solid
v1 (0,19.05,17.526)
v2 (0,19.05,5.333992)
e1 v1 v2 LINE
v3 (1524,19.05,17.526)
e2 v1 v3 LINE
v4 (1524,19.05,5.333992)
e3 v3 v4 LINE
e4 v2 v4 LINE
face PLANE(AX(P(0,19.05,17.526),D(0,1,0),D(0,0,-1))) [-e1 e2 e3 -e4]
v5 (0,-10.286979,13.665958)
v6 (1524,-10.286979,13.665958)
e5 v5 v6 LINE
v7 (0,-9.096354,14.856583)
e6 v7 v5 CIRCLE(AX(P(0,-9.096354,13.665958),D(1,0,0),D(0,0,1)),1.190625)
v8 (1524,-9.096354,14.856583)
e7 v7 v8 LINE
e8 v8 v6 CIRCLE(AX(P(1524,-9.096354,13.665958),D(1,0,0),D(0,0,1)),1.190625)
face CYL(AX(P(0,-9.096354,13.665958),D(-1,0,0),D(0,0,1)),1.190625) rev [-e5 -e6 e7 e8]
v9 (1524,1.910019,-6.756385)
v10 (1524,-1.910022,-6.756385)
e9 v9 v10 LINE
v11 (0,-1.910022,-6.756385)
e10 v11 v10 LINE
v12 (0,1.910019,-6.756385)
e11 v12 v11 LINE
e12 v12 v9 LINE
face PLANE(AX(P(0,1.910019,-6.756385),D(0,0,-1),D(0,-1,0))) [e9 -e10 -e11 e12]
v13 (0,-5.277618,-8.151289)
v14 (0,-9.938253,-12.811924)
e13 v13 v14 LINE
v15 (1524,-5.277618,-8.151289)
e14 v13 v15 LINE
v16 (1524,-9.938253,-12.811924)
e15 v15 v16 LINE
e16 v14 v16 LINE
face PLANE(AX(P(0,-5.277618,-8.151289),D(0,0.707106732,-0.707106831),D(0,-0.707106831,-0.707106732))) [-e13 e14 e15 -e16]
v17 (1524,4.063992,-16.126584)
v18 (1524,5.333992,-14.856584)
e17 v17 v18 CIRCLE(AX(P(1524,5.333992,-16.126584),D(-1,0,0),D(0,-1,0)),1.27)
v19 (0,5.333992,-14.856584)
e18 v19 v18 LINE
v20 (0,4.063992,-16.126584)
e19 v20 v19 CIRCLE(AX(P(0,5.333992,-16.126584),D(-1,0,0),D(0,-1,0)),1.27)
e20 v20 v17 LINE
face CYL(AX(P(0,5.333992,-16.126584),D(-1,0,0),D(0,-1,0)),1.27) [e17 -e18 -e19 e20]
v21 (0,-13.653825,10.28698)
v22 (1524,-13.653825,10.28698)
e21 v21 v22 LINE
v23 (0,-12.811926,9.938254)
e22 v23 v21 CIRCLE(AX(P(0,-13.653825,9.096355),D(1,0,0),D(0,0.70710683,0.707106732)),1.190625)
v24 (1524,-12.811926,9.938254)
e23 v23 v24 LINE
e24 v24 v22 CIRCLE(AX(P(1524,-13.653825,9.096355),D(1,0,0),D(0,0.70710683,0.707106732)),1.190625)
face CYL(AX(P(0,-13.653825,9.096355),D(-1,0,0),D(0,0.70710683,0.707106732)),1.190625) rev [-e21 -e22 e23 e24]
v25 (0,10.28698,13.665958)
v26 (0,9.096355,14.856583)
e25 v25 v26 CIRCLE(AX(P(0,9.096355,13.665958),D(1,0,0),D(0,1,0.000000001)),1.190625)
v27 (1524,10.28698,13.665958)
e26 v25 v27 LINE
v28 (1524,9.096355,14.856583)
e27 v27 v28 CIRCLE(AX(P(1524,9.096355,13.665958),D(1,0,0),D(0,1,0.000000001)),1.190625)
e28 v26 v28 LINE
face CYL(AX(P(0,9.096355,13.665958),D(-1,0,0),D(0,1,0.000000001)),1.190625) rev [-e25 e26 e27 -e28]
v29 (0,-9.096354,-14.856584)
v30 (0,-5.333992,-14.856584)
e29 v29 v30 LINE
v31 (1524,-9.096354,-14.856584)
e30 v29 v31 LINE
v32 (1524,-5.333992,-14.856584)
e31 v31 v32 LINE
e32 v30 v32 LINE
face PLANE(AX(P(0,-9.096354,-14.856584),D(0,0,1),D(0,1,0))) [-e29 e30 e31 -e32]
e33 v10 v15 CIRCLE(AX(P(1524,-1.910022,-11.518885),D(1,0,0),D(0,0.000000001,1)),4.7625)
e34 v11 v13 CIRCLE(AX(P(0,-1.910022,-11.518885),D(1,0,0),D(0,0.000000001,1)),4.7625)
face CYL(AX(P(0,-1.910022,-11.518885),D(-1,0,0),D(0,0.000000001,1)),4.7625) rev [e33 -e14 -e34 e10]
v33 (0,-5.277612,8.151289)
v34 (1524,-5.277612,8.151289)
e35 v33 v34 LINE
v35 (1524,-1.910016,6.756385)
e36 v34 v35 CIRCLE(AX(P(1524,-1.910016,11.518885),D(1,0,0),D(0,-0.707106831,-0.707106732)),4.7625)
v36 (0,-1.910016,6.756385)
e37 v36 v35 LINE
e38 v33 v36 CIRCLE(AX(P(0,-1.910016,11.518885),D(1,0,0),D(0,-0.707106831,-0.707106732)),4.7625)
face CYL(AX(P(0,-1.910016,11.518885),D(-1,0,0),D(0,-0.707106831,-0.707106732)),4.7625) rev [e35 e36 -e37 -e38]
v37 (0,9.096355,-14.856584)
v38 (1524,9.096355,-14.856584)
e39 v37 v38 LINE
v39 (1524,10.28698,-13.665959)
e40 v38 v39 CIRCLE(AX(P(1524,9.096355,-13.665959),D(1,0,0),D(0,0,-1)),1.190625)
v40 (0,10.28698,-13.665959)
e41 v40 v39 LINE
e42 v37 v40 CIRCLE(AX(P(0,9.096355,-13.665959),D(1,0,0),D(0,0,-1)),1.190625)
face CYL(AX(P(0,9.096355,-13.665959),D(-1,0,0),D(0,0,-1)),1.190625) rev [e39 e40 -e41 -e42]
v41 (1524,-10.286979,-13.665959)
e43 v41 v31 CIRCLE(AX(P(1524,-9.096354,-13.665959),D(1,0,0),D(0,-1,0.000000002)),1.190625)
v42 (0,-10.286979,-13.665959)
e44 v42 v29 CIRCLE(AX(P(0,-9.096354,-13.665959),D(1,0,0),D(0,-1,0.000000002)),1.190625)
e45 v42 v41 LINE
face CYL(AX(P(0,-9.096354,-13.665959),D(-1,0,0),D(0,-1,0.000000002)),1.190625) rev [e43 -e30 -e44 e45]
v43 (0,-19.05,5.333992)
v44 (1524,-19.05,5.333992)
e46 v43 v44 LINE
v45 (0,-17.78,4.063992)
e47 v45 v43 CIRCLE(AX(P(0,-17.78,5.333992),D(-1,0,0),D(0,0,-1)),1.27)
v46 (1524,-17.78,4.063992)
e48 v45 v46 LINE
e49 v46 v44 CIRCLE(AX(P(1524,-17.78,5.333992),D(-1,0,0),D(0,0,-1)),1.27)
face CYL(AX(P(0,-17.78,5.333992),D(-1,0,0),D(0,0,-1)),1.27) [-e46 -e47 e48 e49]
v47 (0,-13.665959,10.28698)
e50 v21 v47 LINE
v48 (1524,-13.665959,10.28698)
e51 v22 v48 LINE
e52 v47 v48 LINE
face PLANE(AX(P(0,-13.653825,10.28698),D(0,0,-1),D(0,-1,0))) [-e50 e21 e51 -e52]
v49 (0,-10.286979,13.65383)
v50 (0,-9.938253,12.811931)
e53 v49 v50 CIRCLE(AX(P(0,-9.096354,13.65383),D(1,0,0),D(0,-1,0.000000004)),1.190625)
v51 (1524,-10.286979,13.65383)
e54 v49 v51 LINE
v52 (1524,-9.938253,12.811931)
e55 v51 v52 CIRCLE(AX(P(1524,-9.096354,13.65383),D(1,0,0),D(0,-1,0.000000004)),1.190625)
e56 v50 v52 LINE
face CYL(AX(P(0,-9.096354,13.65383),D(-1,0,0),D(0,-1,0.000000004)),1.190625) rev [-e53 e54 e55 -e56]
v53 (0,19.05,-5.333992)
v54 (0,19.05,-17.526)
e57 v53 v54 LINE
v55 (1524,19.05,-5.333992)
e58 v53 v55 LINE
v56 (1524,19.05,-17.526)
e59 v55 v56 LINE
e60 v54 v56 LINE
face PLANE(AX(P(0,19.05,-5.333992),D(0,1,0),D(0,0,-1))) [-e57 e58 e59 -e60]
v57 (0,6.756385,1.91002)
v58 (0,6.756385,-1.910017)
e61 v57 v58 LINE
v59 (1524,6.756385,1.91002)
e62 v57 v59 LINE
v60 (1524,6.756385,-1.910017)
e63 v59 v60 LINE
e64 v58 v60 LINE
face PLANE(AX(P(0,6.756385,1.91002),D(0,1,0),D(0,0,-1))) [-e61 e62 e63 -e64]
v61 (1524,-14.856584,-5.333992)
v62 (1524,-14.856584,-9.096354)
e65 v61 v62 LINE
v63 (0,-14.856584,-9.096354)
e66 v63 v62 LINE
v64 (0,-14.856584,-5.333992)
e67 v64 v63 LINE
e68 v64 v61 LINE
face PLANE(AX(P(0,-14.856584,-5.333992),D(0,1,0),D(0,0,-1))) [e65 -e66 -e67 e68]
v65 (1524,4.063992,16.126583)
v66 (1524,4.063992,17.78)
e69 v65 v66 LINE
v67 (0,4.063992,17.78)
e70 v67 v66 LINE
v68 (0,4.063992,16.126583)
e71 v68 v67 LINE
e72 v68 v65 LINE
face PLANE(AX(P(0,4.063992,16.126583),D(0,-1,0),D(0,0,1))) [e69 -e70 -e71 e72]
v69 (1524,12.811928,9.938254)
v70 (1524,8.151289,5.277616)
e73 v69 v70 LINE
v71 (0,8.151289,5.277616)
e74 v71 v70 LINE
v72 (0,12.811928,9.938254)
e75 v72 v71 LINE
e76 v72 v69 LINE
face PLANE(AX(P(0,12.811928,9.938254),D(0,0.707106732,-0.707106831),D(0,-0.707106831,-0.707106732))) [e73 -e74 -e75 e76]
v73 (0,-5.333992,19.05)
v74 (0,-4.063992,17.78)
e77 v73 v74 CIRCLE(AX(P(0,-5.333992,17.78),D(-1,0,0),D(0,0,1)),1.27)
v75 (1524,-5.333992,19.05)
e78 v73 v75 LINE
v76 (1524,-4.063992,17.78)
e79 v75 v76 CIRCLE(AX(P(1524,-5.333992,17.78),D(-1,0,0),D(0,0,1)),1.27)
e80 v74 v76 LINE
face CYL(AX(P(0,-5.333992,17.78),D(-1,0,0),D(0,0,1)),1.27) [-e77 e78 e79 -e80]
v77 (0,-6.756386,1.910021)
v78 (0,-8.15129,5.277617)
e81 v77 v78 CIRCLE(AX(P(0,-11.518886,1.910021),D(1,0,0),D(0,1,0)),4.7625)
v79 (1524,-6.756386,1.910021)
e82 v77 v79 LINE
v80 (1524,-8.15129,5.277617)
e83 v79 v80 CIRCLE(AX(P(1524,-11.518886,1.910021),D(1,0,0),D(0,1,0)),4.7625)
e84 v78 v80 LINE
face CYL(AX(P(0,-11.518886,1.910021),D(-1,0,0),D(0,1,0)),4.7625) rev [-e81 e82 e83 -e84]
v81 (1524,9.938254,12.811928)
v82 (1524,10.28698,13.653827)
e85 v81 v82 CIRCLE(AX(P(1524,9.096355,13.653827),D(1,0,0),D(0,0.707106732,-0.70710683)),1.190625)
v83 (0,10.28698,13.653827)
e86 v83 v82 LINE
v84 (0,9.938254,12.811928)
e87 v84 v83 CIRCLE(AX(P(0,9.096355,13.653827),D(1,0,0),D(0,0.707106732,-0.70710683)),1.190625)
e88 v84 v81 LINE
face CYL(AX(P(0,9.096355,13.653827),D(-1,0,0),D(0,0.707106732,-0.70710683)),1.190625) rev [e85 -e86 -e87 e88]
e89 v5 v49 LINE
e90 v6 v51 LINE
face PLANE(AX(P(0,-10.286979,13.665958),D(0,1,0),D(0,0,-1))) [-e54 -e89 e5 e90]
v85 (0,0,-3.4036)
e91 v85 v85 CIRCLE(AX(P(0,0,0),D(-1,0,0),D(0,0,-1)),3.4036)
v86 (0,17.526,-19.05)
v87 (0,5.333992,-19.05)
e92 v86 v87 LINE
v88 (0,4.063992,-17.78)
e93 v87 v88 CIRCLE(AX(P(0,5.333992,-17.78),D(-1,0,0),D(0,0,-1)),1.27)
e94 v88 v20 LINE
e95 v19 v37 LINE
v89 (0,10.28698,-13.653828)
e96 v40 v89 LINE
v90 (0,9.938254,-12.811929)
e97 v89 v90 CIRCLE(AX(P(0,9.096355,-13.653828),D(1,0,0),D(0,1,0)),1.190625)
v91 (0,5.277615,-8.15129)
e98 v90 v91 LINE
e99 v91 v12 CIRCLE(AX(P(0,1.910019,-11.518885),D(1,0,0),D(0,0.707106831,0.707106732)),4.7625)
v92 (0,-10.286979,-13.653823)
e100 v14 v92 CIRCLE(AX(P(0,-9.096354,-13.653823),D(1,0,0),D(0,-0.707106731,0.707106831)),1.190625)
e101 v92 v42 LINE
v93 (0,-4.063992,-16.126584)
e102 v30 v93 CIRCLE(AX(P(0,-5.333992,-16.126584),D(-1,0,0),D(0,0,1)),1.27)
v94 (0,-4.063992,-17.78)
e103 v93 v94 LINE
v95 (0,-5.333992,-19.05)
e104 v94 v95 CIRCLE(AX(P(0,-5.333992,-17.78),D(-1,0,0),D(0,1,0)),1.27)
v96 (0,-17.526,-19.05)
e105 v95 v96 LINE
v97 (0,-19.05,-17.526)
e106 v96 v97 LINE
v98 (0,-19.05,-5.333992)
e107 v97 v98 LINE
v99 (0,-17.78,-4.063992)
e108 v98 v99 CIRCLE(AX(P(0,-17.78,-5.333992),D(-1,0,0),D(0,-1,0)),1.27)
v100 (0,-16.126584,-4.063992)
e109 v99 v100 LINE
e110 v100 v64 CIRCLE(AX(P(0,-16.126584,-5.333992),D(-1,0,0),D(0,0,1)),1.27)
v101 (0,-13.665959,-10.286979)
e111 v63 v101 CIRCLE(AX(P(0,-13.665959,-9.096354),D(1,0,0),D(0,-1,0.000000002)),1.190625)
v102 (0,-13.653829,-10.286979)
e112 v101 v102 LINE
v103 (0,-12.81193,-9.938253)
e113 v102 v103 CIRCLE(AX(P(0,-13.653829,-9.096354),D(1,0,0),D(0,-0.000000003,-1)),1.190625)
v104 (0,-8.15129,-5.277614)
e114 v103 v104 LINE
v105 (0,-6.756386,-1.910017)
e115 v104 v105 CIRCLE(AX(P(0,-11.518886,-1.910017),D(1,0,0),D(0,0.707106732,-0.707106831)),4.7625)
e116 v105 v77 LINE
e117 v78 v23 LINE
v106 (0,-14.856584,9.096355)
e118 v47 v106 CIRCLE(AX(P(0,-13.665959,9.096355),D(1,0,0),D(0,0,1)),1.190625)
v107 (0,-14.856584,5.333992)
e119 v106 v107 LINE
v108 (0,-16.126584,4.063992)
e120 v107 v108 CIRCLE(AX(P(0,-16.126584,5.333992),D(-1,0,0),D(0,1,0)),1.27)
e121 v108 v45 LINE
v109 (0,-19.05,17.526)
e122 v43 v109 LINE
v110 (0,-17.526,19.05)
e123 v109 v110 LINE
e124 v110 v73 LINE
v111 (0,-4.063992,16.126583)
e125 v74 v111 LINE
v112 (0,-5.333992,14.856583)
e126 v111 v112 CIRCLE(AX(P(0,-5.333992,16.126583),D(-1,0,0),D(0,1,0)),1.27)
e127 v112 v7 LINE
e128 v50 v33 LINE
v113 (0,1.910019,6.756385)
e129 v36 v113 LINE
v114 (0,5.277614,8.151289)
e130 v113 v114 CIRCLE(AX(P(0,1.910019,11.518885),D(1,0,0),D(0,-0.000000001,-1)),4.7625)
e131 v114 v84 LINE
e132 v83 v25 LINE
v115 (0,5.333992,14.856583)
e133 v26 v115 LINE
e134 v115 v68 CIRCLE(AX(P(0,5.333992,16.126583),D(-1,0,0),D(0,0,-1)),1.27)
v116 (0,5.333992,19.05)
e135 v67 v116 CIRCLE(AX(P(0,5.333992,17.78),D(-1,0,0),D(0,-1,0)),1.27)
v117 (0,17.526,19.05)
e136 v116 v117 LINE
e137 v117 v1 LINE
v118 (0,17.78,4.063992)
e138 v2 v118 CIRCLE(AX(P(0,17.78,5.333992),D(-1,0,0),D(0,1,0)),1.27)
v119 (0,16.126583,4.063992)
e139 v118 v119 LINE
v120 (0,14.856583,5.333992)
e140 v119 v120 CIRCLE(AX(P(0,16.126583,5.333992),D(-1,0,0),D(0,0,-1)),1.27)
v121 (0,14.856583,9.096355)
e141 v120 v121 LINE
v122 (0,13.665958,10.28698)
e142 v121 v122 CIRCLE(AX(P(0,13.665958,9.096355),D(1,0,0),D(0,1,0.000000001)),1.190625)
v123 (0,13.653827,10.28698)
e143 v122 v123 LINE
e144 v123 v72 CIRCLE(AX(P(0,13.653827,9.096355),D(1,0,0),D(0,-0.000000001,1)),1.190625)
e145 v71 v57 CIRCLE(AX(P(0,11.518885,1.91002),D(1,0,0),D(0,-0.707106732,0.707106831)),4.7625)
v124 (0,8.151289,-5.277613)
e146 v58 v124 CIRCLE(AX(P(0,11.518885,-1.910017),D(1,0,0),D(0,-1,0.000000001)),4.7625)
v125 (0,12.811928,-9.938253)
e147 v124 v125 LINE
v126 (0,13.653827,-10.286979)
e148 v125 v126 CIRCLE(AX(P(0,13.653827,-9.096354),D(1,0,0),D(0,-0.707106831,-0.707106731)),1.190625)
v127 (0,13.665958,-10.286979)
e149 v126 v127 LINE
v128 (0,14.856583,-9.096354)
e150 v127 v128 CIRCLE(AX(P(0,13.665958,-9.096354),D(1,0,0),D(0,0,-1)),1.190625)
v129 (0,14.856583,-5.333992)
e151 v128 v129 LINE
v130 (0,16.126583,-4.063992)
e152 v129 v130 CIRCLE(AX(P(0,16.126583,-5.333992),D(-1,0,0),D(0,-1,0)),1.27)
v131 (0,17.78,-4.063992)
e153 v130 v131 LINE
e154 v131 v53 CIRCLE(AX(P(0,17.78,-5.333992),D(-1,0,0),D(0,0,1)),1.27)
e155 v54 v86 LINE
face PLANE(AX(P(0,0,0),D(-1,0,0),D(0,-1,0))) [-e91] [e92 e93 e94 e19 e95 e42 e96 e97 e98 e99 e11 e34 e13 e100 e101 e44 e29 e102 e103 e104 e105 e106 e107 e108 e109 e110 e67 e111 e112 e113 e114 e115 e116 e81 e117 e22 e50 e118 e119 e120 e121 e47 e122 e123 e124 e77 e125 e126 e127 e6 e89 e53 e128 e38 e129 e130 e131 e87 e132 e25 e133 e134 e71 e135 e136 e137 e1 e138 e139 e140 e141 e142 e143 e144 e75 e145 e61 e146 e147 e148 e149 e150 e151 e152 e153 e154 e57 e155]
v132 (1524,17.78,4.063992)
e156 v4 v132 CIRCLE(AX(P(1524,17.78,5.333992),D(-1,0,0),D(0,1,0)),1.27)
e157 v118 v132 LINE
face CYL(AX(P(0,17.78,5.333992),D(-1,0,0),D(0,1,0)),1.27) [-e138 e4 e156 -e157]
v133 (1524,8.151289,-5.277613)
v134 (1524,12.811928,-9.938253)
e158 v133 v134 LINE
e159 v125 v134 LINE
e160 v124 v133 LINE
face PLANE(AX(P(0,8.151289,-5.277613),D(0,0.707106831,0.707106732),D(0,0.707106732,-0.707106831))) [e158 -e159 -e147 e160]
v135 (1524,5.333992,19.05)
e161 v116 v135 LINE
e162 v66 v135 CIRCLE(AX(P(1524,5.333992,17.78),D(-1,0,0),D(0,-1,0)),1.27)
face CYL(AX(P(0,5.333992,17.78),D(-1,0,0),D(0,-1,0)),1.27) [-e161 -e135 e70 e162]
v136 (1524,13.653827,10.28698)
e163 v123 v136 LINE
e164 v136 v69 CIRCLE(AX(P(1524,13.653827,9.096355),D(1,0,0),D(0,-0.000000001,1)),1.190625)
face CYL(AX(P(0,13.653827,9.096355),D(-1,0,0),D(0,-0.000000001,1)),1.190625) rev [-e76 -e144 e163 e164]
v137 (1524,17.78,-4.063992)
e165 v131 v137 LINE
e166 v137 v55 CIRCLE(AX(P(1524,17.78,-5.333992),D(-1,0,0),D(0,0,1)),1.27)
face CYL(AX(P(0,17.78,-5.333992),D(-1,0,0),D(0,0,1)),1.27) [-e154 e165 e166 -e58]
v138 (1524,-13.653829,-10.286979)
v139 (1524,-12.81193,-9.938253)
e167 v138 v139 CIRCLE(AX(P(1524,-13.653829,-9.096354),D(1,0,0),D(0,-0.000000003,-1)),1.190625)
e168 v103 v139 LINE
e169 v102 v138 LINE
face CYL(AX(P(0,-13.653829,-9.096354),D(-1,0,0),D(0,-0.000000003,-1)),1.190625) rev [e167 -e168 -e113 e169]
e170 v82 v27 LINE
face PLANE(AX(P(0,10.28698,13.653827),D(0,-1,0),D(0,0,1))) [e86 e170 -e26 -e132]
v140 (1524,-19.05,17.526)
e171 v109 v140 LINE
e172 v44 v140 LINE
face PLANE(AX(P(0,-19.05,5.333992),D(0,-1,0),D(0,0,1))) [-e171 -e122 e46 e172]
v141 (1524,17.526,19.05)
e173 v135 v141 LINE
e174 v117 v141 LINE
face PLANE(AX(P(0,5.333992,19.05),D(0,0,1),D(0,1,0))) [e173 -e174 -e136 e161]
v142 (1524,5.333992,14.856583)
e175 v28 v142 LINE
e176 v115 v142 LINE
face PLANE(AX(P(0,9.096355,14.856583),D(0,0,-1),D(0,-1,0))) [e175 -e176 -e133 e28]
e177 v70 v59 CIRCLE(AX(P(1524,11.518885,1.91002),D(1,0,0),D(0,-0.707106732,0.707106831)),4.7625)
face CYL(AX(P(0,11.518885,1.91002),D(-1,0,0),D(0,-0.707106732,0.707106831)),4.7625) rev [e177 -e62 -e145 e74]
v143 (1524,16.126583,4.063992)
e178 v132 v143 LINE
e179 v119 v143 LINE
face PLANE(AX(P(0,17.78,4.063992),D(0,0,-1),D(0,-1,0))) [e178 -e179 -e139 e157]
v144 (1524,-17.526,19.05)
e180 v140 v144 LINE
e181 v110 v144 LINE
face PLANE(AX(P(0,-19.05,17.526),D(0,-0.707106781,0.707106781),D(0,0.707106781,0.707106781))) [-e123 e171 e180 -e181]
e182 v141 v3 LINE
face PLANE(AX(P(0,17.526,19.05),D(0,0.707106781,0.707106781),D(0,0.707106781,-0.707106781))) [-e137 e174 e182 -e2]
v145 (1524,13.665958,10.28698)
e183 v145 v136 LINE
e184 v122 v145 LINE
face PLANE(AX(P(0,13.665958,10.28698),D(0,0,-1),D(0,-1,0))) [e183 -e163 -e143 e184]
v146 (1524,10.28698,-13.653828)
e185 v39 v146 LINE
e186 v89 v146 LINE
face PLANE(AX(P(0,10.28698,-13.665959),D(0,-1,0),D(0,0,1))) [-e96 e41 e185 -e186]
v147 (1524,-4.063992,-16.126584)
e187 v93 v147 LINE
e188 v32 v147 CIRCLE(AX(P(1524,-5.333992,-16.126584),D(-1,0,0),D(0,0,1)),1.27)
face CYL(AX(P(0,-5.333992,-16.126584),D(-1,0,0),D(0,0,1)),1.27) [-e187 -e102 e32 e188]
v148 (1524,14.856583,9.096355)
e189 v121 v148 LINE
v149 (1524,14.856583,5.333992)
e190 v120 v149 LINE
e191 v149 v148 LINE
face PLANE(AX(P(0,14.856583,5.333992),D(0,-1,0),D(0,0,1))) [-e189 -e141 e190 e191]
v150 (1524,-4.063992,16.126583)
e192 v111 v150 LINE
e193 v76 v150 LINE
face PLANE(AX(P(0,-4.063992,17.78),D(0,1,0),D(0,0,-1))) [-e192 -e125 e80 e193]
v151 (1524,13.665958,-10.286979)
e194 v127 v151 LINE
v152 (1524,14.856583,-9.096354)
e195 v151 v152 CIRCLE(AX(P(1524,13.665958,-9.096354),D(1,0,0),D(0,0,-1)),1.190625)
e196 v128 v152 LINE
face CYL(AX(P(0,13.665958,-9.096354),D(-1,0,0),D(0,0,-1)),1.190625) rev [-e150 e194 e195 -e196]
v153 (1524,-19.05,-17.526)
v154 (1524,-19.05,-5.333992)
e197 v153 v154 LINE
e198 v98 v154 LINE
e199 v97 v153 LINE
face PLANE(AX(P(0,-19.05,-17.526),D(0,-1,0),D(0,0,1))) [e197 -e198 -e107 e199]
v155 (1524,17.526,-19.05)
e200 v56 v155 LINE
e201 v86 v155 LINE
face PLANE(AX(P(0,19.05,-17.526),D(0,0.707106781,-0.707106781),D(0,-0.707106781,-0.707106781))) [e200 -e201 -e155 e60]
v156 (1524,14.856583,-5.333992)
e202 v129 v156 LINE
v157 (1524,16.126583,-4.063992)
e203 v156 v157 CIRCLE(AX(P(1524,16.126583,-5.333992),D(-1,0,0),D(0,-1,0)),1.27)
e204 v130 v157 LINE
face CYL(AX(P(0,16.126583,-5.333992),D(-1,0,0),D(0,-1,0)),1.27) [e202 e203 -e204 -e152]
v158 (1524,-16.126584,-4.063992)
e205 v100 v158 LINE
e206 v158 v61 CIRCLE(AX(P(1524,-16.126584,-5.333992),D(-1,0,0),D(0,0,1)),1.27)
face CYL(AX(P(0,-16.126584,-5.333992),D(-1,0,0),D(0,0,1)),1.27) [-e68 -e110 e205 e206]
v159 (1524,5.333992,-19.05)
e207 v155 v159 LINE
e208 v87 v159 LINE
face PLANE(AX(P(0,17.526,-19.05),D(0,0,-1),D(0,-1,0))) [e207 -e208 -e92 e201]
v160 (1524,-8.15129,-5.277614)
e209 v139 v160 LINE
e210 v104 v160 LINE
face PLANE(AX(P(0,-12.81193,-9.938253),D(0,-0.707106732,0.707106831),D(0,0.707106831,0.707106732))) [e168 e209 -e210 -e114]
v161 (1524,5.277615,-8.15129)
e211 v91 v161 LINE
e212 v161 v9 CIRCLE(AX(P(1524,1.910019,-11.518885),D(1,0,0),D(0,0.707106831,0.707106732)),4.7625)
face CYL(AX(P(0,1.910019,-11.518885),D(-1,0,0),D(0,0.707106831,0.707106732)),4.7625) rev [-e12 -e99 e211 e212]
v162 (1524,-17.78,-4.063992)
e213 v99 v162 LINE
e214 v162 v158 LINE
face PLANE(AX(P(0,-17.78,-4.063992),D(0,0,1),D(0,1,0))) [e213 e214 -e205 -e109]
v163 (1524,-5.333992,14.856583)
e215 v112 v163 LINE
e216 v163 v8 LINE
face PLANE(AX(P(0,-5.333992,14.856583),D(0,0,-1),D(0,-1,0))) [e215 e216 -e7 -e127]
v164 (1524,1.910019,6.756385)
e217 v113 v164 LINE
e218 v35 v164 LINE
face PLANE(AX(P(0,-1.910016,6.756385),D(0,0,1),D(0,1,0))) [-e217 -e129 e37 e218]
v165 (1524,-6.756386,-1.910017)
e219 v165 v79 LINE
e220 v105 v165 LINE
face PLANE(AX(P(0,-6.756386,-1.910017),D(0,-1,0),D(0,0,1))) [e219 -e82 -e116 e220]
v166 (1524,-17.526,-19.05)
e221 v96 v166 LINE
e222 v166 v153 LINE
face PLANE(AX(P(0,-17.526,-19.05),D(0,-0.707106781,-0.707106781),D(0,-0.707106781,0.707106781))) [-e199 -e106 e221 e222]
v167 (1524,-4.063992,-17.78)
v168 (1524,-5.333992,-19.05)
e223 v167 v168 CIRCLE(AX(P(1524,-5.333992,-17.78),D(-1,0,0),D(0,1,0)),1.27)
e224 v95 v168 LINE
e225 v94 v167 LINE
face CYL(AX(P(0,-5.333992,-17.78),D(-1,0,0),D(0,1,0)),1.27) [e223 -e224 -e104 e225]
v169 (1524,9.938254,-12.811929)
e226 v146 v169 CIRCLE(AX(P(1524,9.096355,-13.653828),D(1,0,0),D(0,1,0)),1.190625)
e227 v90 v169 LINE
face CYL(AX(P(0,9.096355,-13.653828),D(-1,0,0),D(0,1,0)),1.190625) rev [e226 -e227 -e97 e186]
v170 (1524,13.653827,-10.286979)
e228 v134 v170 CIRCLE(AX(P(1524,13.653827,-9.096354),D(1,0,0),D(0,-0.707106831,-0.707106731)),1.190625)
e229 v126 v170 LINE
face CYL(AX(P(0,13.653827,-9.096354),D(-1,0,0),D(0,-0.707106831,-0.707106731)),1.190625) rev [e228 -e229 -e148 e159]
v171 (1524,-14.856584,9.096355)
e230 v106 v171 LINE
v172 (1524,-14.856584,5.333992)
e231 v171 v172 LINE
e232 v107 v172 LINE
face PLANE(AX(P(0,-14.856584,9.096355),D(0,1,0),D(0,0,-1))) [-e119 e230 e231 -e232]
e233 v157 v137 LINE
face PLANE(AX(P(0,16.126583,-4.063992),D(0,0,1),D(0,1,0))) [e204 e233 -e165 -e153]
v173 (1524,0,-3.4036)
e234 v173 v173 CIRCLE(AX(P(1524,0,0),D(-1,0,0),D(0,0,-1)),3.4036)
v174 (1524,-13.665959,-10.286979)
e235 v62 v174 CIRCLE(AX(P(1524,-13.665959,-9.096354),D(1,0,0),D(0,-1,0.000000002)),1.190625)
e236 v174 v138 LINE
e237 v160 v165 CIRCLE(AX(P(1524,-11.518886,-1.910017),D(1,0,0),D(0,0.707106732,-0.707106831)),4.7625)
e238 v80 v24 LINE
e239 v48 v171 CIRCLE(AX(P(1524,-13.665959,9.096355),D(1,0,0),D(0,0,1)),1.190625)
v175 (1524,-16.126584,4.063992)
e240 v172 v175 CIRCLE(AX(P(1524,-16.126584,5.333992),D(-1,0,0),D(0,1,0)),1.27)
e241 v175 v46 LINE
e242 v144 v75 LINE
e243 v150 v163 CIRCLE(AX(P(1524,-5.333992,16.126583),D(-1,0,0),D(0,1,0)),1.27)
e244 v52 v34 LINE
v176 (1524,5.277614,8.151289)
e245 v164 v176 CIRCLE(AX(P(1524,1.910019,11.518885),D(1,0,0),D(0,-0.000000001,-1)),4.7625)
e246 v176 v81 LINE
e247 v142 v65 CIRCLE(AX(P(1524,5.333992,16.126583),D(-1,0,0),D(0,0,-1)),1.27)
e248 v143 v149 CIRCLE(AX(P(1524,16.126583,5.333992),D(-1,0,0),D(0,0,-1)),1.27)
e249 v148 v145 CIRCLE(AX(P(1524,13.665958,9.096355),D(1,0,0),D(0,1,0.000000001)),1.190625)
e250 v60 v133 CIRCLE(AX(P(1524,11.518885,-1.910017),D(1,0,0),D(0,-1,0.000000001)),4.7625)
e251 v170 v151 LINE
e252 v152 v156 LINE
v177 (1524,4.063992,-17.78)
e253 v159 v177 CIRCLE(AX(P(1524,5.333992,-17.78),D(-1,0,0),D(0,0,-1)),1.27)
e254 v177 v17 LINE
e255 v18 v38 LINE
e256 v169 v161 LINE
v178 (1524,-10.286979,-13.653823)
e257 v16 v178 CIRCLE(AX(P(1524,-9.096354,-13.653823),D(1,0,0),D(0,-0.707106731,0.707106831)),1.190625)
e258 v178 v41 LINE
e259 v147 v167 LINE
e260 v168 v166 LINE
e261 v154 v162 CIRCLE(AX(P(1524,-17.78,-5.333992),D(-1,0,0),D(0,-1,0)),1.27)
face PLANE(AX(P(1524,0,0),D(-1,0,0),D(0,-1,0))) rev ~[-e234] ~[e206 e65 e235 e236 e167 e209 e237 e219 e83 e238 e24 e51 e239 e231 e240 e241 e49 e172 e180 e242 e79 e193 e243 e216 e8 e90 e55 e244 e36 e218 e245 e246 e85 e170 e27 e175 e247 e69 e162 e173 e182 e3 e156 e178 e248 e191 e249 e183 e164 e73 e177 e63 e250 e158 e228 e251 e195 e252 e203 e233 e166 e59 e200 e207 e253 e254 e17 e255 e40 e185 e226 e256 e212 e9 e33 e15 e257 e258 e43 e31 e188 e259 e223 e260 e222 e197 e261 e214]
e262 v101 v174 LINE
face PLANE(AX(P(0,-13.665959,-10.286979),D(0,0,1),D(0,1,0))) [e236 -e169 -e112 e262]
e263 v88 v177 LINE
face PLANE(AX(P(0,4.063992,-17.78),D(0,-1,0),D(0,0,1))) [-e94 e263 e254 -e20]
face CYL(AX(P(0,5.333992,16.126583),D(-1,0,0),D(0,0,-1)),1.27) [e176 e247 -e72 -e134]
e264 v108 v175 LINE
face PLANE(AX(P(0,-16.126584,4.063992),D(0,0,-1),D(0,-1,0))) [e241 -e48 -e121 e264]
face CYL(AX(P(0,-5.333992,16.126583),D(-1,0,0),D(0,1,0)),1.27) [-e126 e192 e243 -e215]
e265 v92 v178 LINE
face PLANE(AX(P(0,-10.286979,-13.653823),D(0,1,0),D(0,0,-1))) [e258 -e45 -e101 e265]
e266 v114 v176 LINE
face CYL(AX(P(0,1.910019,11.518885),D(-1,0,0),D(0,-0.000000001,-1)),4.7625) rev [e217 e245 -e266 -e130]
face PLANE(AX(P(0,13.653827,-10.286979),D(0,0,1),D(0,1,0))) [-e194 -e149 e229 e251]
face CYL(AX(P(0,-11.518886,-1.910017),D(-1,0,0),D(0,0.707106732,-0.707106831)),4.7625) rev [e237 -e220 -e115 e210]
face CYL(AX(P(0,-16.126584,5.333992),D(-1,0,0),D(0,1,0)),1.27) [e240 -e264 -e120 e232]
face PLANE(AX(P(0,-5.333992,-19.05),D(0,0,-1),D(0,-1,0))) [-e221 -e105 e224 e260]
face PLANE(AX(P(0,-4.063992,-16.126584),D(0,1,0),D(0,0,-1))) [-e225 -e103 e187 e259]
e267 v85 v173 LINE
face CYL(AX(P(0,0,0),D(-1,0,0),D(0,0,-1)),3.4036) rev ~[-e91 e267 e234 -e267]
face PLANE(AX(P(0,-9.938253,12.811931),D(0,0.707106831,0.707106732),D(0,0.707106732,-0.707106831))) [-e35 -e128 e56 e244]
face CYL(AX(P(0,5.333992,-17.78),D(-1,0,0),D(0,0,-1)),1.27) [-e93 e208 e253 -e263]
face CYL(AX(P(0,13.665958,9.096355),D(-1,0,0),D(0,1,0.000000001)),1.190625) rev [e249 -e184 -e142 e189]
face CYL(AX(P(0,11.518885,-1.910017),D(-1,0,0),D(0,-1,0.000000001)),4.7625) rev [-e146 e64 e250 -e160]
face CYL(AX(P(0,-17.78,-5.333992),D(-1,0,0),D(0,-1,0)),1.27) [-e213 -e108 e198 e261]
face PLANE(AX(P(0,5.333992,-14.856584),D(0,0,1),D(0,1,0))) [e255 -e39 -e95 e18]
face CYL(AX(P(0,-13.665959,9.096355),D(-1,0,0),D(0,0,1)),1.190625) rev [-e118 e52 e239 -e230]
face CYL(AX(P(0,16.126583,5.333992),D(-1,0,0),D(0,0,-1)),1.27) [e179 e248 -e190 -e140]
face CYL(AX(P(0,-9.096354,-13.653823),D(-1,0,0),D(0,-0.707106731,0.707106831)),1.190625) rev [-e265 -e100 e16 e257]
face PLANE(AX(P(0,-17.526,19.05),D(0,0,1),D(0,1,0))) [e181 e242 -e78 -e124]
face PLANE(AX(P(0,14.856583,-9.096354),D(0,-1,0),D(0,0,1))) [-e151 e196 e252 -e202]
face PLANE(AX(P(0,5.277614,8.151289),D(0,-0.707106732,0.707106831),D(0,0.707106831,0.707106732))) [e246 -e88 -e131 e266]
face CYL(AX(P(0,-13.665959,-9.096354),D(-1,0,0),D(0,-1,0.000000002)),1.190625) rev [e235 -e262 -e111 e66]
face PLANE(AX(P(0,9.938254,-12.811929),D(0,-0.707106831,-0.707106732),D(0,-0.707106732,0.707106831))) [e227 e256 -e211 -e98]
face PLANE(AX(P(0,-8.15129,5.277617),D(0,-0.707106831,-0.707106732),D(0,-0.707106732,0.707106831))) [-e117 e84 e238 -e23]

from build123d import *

# Parameters (mm, degrees)
SKETCH1_R           = 3.4036
BOSS_EXTRUDE1_DEPTH = 1524


with BuildPart() as part:
    # Sketch1 → Boss-Extrude1 (new body)
    with BuildSketch(Plane(origin=(0, 0, 0), x_dir=(0, -1, 0), z_dir=(-1, 0, 0))):
        with BuildLine():
            Line((19.05, 5.333992226), (19.05, 17.526))
            Line((19.05, 17.526), (17.526, 19.05))
            Line((17.526, 19.05), (5.333991729, 19.05))
            ThreePointArc((5.333991729, 19.05), (4.435966117, 18.678025612), (4.063991729, 17.78))
            Line((4.063991729, 17.78), (4.063991729, 16.12658277))
            ThreePointArc((4.063991729, 16.12658277), (4.435966117, 15.228557158), (5.333991729, 14.85658277))
            Line((5.333991729, 14.85658277), (9.096353874, 14.85658277))
            ThreePointArc((9.096353874, 14.85658277), (9.938252886, 14.507856781), (10.286978874, 13.66595777))
            Line((10.286978874, 13.66595777), (10.286978874, 13.653830065))
            ThreePointArc((10.286978874, 13.653830065), (10.196347959, 13.198197641), (9.938252944, 12.811931112))
            Line((9.938252944, 12.811931112), (5.277611896, 8.151289413))
            ThreePointArc((5.277611896, 8.151289413), (3.732545616, 7.118909013), (1.910015615, 6.756385223))
            Line((1.910015615, 6.756385223), (-1.910018596, 6.756385223))
            ThreePointArc((-1.910018596, 6.756385223), (-3.732548289, 7.118908885), (-5.277614406, 8.151288942))
            Line((-5.277614406, 8.151288942), (-9.93825393, 12.811927815))
            ThreePointArc((-9.93825393, 12.811927815), (-10.19634903, 13.198194385), (-10.286979978, 13.653826886))
            Line((-10.286979978, 13.653826886), (-10.286979978, 13.66595777))
            ThreePointArc((-10.286979978, 13.66595777), (-9.938253989, 14.507856781), (-9.096354978, 14.85658277))
            Line((-9.096354978, 14.85658277), (-5.333992226, 14.85658277))
            ThreePointArc((-5.333992226, 14.85658277), (-4.435966614, 15.228557158), (-4.063992226, 16.12658277))
            Line((-4.063992226, 16.12658277), (-4.063992226, 17.78))
            ThreePointArc((-4.063992226, 17.78), (-4.435966614, 18.678025612), (-5.333992226, 19.05))
            Line((-5.333992226, 19.05), (-17.526, 19.05))
            Line((-17.526, 19.05), (-19.05, 17.526))
            Line((-19.05, 17.526), (-19.05, 5.333992226))
            ThreePointArc((-19.05, 5.333992226), (-18.678025612, 4.435966614), (-17.78, 4.063992226))
            Line((-17.78, 4.063992226), (-16.12658277, 4.063992226))
            ThreePointArc((-16.12658277, 4.063992226), (-15.228557158, 4.435966614), (-14.85658277, 5.333992226))
            Line((-14.85658277, 5.333992226), (-14.85658277, 9.096354978))
            ThreePointArc((-14.85658277, 9.096354978), (-14.507856781, 9.938253989), (-13.66595777, 10.286979978))
            Line((-13.66595777, 10.286979978), (-13.653827218, 10.286979978))
            ThreePointArc((-13.653827218, 10.286979978), (-13.198194795, 10.196349062), (-12.811928266, 9.938254048))
            Line((-12.811928266, 9.938254048), (-8.151289413, 5.277615846))
            ThreePointArc((-8.151289413, 5.277615846), (-7.118909013, 3.732549566), (-6.756385223, 1.910019566))
            Line((-6.756385223, 1.910019566), (-6.756385223, -1.910017492))
            ThreePointArc((-6.756385223, -1.910017492), (-7.118908885, -3.732547185), (-8.151288942, -5.277613302))
            Line((-8.151288942, -5.277613302), (-12.811927815, -9.938252827))
            ThreePointArc((-12.811927815, -9.938252827), (-13.198194385, -10.196347927), (-13.653826886, -10.286978874))
            Line((-13.653826886, -10.286978874), (-13.66595777, -10.286978874))
            ThreePointArc((-13.66595777, -10.286978874), (-14.507856781, -9.938252886), (-14.85658277, -9.096353874))
            Line((-14.85658277, -9.096353874), (-14.85658277, -5.333991729))
            ThreePointArc((-14.85658277, -5.333991729), (-15.228557158, -4.435966117), (-16.12658277, -4.063991729))
            Line((-16.12658277, -4.063991729), (-17.78, -4.063991729))
            ThreePointArc((-17.78, -4.063991729), (-18.678025612, -4.435966117), (-19.05, -5.333991729))
            Line((-19.05, -5.333991729), (-19.05, -17.526))
            Line((-19.05, -17.526), (-17.526, -19.05))
            Line((-17.526, -19.05), (-5.333992226, -19.05))
            ThreePointArc((-5.333992226, -19.05), (-4.435966614, -18.678025612), (-4.063992226, -17.78))
            Line((-4.063992226, -17.78), (-4.063992226, -16.126583724))
            ThreePointArc((-4.063992226, -16.126583724), (-4.435966614, -15.228558112), (-5.333992226, -14.856583724))
            Line((-5.333992226, -14.856583724), (-9.096354978, -14.856583724))
            ThreePointArc((-9.096354978, -14.856583724), (-9.938253989, -14.507857736), (-10.286979978, -13.665958724))
            Line((-10.286979978, -13.665958724), (-10.286979978, -13.653828173))
            ThreePointArc((-10.286979978, -13.653828173), (-10.196349062, -13.198195749), (-9.938254048, -12.81192922))
            Line((-9.938254048, -12.81192922), (-5.277615159, -8.15128968))
            ThreePointArc((-5.277615159, -8.15128968), (-3.732548878, -7.11890928), (-1.910018878, -6.75638549))
            Line((-1.910018878, -6.75638549), (1.910021709, -6.75638549))
            ThreePointArc((1.910021709, -6.75638549), (3.732551402, -7.118909152), (5.277617519, -8.151289209))
            Line((5.277617519, -8.151289209), (9.938252827, -12.811923865))
            ThreePointArc((9.938252827, -12.811923865), (10.196347927, -13.198190435), (10.286978874, -13.653822935))
            Line((10.286978874, -13.653822935), (10.286978874, -13.665958724))
            ThreePointArc((10.286978874, -13.665958724), (9.938252886, -14.507857736), (9.096353874, -14.856583724))
            Line((9.096353874, -14.856583724), (5.333991729, -14.856583724))
            ThreePointArc((5.333991729, -14.856583724), (4.435966117, -15.228558112), (4.063991729, -16.126583724))
            Line((4.063991729, -16.126583724), (4.063991729, -17.78))
            ThreePointArc((4.063991729, -17.78), (4.435966117, -18.678025612), (5.333991729, -19.05))
            Line((5.333991729, -19.05), (17.526, -19.05))
            Line((17.526, -19.05), (19.05, -17.526))
            Line((19.05, -17.526), (19.05, -5.333991729))
            ThreePointArc((19.05, -5.333991729), (18.678025612, -4.435966117), (17.78, -4.063991729))
            Line((17.78, -4.063991729), (16.126583724, -4.063991729))
            ThreePointArc((16.126583724, -4.063991729), (15.228558112, -4.435966117), (14.856583724, -5.333991729))
            Line((14.856583724, -5.333991729), (14.856583724, -9.096353874))
            ThreePointArc((14.856583724, -9.096353874), (14.507857736, -9.938252886), (13.665958724, -10.286978874))
            Line((13.665958724, -10.286978874), (13.653828961, -10.286978874))
            ThreePointArc((13.653828961, -10.286978874), (13.198196538, -10.196347959), (12.811930009, -9.938252944))
            Line((12.811930009, -9.938252944), (8.151290074, -5.277613661))
            ThreePointArc((8.151290074, -5.277613661), (7.118909674, -3.732547381), (6.756385884, -1.91001738))
            Line((6.756385884, -1.91001738), (6.756385884, 1.910021149))
            ThreePointArc((6.756385884, 1.910021149), (7.118909547, 3.732550842), (8.151289603, 5.277616959))
            Line((8.151289603, 5.277616959), (12.811925923, 9.93825393))
            ThreePointArc((12.811925923, 9.93825393), (13.198192493, 10.19634903), (13.653824993, 10.286979978))
            Line((13.653824993, 10.286979978), (13.665958724, 10.286979978))
            ThreePointArc((13.665958724, 10.286979978), (14.507857736, 9.938253989), (14.856583724, 9.096354978))
            Line((14.856583724, 9.096354978), (14.856583724, 5.333992226))
            ThreePointArc((14.856583724, 5.333992226), (15.228558112, 4.435966614), (16.126583724, 4.063992226))
            Line((16.126583724, 4.063992226), (17.78, 4.063992226))
            ThreePointArc((17.78, 4.063992226), (18.678025612, 4.435966614), (19.05, 5.333992226))
        make_face()
        with Locations(Location((0, 0, 0), (0, 0, 270))):
            Circle(SKETCH1_R, mode=Mode.SUBTRACT)
    extrude(amount=-BOSS_EXTRUDE1_DEPTH)


solid = part.part
